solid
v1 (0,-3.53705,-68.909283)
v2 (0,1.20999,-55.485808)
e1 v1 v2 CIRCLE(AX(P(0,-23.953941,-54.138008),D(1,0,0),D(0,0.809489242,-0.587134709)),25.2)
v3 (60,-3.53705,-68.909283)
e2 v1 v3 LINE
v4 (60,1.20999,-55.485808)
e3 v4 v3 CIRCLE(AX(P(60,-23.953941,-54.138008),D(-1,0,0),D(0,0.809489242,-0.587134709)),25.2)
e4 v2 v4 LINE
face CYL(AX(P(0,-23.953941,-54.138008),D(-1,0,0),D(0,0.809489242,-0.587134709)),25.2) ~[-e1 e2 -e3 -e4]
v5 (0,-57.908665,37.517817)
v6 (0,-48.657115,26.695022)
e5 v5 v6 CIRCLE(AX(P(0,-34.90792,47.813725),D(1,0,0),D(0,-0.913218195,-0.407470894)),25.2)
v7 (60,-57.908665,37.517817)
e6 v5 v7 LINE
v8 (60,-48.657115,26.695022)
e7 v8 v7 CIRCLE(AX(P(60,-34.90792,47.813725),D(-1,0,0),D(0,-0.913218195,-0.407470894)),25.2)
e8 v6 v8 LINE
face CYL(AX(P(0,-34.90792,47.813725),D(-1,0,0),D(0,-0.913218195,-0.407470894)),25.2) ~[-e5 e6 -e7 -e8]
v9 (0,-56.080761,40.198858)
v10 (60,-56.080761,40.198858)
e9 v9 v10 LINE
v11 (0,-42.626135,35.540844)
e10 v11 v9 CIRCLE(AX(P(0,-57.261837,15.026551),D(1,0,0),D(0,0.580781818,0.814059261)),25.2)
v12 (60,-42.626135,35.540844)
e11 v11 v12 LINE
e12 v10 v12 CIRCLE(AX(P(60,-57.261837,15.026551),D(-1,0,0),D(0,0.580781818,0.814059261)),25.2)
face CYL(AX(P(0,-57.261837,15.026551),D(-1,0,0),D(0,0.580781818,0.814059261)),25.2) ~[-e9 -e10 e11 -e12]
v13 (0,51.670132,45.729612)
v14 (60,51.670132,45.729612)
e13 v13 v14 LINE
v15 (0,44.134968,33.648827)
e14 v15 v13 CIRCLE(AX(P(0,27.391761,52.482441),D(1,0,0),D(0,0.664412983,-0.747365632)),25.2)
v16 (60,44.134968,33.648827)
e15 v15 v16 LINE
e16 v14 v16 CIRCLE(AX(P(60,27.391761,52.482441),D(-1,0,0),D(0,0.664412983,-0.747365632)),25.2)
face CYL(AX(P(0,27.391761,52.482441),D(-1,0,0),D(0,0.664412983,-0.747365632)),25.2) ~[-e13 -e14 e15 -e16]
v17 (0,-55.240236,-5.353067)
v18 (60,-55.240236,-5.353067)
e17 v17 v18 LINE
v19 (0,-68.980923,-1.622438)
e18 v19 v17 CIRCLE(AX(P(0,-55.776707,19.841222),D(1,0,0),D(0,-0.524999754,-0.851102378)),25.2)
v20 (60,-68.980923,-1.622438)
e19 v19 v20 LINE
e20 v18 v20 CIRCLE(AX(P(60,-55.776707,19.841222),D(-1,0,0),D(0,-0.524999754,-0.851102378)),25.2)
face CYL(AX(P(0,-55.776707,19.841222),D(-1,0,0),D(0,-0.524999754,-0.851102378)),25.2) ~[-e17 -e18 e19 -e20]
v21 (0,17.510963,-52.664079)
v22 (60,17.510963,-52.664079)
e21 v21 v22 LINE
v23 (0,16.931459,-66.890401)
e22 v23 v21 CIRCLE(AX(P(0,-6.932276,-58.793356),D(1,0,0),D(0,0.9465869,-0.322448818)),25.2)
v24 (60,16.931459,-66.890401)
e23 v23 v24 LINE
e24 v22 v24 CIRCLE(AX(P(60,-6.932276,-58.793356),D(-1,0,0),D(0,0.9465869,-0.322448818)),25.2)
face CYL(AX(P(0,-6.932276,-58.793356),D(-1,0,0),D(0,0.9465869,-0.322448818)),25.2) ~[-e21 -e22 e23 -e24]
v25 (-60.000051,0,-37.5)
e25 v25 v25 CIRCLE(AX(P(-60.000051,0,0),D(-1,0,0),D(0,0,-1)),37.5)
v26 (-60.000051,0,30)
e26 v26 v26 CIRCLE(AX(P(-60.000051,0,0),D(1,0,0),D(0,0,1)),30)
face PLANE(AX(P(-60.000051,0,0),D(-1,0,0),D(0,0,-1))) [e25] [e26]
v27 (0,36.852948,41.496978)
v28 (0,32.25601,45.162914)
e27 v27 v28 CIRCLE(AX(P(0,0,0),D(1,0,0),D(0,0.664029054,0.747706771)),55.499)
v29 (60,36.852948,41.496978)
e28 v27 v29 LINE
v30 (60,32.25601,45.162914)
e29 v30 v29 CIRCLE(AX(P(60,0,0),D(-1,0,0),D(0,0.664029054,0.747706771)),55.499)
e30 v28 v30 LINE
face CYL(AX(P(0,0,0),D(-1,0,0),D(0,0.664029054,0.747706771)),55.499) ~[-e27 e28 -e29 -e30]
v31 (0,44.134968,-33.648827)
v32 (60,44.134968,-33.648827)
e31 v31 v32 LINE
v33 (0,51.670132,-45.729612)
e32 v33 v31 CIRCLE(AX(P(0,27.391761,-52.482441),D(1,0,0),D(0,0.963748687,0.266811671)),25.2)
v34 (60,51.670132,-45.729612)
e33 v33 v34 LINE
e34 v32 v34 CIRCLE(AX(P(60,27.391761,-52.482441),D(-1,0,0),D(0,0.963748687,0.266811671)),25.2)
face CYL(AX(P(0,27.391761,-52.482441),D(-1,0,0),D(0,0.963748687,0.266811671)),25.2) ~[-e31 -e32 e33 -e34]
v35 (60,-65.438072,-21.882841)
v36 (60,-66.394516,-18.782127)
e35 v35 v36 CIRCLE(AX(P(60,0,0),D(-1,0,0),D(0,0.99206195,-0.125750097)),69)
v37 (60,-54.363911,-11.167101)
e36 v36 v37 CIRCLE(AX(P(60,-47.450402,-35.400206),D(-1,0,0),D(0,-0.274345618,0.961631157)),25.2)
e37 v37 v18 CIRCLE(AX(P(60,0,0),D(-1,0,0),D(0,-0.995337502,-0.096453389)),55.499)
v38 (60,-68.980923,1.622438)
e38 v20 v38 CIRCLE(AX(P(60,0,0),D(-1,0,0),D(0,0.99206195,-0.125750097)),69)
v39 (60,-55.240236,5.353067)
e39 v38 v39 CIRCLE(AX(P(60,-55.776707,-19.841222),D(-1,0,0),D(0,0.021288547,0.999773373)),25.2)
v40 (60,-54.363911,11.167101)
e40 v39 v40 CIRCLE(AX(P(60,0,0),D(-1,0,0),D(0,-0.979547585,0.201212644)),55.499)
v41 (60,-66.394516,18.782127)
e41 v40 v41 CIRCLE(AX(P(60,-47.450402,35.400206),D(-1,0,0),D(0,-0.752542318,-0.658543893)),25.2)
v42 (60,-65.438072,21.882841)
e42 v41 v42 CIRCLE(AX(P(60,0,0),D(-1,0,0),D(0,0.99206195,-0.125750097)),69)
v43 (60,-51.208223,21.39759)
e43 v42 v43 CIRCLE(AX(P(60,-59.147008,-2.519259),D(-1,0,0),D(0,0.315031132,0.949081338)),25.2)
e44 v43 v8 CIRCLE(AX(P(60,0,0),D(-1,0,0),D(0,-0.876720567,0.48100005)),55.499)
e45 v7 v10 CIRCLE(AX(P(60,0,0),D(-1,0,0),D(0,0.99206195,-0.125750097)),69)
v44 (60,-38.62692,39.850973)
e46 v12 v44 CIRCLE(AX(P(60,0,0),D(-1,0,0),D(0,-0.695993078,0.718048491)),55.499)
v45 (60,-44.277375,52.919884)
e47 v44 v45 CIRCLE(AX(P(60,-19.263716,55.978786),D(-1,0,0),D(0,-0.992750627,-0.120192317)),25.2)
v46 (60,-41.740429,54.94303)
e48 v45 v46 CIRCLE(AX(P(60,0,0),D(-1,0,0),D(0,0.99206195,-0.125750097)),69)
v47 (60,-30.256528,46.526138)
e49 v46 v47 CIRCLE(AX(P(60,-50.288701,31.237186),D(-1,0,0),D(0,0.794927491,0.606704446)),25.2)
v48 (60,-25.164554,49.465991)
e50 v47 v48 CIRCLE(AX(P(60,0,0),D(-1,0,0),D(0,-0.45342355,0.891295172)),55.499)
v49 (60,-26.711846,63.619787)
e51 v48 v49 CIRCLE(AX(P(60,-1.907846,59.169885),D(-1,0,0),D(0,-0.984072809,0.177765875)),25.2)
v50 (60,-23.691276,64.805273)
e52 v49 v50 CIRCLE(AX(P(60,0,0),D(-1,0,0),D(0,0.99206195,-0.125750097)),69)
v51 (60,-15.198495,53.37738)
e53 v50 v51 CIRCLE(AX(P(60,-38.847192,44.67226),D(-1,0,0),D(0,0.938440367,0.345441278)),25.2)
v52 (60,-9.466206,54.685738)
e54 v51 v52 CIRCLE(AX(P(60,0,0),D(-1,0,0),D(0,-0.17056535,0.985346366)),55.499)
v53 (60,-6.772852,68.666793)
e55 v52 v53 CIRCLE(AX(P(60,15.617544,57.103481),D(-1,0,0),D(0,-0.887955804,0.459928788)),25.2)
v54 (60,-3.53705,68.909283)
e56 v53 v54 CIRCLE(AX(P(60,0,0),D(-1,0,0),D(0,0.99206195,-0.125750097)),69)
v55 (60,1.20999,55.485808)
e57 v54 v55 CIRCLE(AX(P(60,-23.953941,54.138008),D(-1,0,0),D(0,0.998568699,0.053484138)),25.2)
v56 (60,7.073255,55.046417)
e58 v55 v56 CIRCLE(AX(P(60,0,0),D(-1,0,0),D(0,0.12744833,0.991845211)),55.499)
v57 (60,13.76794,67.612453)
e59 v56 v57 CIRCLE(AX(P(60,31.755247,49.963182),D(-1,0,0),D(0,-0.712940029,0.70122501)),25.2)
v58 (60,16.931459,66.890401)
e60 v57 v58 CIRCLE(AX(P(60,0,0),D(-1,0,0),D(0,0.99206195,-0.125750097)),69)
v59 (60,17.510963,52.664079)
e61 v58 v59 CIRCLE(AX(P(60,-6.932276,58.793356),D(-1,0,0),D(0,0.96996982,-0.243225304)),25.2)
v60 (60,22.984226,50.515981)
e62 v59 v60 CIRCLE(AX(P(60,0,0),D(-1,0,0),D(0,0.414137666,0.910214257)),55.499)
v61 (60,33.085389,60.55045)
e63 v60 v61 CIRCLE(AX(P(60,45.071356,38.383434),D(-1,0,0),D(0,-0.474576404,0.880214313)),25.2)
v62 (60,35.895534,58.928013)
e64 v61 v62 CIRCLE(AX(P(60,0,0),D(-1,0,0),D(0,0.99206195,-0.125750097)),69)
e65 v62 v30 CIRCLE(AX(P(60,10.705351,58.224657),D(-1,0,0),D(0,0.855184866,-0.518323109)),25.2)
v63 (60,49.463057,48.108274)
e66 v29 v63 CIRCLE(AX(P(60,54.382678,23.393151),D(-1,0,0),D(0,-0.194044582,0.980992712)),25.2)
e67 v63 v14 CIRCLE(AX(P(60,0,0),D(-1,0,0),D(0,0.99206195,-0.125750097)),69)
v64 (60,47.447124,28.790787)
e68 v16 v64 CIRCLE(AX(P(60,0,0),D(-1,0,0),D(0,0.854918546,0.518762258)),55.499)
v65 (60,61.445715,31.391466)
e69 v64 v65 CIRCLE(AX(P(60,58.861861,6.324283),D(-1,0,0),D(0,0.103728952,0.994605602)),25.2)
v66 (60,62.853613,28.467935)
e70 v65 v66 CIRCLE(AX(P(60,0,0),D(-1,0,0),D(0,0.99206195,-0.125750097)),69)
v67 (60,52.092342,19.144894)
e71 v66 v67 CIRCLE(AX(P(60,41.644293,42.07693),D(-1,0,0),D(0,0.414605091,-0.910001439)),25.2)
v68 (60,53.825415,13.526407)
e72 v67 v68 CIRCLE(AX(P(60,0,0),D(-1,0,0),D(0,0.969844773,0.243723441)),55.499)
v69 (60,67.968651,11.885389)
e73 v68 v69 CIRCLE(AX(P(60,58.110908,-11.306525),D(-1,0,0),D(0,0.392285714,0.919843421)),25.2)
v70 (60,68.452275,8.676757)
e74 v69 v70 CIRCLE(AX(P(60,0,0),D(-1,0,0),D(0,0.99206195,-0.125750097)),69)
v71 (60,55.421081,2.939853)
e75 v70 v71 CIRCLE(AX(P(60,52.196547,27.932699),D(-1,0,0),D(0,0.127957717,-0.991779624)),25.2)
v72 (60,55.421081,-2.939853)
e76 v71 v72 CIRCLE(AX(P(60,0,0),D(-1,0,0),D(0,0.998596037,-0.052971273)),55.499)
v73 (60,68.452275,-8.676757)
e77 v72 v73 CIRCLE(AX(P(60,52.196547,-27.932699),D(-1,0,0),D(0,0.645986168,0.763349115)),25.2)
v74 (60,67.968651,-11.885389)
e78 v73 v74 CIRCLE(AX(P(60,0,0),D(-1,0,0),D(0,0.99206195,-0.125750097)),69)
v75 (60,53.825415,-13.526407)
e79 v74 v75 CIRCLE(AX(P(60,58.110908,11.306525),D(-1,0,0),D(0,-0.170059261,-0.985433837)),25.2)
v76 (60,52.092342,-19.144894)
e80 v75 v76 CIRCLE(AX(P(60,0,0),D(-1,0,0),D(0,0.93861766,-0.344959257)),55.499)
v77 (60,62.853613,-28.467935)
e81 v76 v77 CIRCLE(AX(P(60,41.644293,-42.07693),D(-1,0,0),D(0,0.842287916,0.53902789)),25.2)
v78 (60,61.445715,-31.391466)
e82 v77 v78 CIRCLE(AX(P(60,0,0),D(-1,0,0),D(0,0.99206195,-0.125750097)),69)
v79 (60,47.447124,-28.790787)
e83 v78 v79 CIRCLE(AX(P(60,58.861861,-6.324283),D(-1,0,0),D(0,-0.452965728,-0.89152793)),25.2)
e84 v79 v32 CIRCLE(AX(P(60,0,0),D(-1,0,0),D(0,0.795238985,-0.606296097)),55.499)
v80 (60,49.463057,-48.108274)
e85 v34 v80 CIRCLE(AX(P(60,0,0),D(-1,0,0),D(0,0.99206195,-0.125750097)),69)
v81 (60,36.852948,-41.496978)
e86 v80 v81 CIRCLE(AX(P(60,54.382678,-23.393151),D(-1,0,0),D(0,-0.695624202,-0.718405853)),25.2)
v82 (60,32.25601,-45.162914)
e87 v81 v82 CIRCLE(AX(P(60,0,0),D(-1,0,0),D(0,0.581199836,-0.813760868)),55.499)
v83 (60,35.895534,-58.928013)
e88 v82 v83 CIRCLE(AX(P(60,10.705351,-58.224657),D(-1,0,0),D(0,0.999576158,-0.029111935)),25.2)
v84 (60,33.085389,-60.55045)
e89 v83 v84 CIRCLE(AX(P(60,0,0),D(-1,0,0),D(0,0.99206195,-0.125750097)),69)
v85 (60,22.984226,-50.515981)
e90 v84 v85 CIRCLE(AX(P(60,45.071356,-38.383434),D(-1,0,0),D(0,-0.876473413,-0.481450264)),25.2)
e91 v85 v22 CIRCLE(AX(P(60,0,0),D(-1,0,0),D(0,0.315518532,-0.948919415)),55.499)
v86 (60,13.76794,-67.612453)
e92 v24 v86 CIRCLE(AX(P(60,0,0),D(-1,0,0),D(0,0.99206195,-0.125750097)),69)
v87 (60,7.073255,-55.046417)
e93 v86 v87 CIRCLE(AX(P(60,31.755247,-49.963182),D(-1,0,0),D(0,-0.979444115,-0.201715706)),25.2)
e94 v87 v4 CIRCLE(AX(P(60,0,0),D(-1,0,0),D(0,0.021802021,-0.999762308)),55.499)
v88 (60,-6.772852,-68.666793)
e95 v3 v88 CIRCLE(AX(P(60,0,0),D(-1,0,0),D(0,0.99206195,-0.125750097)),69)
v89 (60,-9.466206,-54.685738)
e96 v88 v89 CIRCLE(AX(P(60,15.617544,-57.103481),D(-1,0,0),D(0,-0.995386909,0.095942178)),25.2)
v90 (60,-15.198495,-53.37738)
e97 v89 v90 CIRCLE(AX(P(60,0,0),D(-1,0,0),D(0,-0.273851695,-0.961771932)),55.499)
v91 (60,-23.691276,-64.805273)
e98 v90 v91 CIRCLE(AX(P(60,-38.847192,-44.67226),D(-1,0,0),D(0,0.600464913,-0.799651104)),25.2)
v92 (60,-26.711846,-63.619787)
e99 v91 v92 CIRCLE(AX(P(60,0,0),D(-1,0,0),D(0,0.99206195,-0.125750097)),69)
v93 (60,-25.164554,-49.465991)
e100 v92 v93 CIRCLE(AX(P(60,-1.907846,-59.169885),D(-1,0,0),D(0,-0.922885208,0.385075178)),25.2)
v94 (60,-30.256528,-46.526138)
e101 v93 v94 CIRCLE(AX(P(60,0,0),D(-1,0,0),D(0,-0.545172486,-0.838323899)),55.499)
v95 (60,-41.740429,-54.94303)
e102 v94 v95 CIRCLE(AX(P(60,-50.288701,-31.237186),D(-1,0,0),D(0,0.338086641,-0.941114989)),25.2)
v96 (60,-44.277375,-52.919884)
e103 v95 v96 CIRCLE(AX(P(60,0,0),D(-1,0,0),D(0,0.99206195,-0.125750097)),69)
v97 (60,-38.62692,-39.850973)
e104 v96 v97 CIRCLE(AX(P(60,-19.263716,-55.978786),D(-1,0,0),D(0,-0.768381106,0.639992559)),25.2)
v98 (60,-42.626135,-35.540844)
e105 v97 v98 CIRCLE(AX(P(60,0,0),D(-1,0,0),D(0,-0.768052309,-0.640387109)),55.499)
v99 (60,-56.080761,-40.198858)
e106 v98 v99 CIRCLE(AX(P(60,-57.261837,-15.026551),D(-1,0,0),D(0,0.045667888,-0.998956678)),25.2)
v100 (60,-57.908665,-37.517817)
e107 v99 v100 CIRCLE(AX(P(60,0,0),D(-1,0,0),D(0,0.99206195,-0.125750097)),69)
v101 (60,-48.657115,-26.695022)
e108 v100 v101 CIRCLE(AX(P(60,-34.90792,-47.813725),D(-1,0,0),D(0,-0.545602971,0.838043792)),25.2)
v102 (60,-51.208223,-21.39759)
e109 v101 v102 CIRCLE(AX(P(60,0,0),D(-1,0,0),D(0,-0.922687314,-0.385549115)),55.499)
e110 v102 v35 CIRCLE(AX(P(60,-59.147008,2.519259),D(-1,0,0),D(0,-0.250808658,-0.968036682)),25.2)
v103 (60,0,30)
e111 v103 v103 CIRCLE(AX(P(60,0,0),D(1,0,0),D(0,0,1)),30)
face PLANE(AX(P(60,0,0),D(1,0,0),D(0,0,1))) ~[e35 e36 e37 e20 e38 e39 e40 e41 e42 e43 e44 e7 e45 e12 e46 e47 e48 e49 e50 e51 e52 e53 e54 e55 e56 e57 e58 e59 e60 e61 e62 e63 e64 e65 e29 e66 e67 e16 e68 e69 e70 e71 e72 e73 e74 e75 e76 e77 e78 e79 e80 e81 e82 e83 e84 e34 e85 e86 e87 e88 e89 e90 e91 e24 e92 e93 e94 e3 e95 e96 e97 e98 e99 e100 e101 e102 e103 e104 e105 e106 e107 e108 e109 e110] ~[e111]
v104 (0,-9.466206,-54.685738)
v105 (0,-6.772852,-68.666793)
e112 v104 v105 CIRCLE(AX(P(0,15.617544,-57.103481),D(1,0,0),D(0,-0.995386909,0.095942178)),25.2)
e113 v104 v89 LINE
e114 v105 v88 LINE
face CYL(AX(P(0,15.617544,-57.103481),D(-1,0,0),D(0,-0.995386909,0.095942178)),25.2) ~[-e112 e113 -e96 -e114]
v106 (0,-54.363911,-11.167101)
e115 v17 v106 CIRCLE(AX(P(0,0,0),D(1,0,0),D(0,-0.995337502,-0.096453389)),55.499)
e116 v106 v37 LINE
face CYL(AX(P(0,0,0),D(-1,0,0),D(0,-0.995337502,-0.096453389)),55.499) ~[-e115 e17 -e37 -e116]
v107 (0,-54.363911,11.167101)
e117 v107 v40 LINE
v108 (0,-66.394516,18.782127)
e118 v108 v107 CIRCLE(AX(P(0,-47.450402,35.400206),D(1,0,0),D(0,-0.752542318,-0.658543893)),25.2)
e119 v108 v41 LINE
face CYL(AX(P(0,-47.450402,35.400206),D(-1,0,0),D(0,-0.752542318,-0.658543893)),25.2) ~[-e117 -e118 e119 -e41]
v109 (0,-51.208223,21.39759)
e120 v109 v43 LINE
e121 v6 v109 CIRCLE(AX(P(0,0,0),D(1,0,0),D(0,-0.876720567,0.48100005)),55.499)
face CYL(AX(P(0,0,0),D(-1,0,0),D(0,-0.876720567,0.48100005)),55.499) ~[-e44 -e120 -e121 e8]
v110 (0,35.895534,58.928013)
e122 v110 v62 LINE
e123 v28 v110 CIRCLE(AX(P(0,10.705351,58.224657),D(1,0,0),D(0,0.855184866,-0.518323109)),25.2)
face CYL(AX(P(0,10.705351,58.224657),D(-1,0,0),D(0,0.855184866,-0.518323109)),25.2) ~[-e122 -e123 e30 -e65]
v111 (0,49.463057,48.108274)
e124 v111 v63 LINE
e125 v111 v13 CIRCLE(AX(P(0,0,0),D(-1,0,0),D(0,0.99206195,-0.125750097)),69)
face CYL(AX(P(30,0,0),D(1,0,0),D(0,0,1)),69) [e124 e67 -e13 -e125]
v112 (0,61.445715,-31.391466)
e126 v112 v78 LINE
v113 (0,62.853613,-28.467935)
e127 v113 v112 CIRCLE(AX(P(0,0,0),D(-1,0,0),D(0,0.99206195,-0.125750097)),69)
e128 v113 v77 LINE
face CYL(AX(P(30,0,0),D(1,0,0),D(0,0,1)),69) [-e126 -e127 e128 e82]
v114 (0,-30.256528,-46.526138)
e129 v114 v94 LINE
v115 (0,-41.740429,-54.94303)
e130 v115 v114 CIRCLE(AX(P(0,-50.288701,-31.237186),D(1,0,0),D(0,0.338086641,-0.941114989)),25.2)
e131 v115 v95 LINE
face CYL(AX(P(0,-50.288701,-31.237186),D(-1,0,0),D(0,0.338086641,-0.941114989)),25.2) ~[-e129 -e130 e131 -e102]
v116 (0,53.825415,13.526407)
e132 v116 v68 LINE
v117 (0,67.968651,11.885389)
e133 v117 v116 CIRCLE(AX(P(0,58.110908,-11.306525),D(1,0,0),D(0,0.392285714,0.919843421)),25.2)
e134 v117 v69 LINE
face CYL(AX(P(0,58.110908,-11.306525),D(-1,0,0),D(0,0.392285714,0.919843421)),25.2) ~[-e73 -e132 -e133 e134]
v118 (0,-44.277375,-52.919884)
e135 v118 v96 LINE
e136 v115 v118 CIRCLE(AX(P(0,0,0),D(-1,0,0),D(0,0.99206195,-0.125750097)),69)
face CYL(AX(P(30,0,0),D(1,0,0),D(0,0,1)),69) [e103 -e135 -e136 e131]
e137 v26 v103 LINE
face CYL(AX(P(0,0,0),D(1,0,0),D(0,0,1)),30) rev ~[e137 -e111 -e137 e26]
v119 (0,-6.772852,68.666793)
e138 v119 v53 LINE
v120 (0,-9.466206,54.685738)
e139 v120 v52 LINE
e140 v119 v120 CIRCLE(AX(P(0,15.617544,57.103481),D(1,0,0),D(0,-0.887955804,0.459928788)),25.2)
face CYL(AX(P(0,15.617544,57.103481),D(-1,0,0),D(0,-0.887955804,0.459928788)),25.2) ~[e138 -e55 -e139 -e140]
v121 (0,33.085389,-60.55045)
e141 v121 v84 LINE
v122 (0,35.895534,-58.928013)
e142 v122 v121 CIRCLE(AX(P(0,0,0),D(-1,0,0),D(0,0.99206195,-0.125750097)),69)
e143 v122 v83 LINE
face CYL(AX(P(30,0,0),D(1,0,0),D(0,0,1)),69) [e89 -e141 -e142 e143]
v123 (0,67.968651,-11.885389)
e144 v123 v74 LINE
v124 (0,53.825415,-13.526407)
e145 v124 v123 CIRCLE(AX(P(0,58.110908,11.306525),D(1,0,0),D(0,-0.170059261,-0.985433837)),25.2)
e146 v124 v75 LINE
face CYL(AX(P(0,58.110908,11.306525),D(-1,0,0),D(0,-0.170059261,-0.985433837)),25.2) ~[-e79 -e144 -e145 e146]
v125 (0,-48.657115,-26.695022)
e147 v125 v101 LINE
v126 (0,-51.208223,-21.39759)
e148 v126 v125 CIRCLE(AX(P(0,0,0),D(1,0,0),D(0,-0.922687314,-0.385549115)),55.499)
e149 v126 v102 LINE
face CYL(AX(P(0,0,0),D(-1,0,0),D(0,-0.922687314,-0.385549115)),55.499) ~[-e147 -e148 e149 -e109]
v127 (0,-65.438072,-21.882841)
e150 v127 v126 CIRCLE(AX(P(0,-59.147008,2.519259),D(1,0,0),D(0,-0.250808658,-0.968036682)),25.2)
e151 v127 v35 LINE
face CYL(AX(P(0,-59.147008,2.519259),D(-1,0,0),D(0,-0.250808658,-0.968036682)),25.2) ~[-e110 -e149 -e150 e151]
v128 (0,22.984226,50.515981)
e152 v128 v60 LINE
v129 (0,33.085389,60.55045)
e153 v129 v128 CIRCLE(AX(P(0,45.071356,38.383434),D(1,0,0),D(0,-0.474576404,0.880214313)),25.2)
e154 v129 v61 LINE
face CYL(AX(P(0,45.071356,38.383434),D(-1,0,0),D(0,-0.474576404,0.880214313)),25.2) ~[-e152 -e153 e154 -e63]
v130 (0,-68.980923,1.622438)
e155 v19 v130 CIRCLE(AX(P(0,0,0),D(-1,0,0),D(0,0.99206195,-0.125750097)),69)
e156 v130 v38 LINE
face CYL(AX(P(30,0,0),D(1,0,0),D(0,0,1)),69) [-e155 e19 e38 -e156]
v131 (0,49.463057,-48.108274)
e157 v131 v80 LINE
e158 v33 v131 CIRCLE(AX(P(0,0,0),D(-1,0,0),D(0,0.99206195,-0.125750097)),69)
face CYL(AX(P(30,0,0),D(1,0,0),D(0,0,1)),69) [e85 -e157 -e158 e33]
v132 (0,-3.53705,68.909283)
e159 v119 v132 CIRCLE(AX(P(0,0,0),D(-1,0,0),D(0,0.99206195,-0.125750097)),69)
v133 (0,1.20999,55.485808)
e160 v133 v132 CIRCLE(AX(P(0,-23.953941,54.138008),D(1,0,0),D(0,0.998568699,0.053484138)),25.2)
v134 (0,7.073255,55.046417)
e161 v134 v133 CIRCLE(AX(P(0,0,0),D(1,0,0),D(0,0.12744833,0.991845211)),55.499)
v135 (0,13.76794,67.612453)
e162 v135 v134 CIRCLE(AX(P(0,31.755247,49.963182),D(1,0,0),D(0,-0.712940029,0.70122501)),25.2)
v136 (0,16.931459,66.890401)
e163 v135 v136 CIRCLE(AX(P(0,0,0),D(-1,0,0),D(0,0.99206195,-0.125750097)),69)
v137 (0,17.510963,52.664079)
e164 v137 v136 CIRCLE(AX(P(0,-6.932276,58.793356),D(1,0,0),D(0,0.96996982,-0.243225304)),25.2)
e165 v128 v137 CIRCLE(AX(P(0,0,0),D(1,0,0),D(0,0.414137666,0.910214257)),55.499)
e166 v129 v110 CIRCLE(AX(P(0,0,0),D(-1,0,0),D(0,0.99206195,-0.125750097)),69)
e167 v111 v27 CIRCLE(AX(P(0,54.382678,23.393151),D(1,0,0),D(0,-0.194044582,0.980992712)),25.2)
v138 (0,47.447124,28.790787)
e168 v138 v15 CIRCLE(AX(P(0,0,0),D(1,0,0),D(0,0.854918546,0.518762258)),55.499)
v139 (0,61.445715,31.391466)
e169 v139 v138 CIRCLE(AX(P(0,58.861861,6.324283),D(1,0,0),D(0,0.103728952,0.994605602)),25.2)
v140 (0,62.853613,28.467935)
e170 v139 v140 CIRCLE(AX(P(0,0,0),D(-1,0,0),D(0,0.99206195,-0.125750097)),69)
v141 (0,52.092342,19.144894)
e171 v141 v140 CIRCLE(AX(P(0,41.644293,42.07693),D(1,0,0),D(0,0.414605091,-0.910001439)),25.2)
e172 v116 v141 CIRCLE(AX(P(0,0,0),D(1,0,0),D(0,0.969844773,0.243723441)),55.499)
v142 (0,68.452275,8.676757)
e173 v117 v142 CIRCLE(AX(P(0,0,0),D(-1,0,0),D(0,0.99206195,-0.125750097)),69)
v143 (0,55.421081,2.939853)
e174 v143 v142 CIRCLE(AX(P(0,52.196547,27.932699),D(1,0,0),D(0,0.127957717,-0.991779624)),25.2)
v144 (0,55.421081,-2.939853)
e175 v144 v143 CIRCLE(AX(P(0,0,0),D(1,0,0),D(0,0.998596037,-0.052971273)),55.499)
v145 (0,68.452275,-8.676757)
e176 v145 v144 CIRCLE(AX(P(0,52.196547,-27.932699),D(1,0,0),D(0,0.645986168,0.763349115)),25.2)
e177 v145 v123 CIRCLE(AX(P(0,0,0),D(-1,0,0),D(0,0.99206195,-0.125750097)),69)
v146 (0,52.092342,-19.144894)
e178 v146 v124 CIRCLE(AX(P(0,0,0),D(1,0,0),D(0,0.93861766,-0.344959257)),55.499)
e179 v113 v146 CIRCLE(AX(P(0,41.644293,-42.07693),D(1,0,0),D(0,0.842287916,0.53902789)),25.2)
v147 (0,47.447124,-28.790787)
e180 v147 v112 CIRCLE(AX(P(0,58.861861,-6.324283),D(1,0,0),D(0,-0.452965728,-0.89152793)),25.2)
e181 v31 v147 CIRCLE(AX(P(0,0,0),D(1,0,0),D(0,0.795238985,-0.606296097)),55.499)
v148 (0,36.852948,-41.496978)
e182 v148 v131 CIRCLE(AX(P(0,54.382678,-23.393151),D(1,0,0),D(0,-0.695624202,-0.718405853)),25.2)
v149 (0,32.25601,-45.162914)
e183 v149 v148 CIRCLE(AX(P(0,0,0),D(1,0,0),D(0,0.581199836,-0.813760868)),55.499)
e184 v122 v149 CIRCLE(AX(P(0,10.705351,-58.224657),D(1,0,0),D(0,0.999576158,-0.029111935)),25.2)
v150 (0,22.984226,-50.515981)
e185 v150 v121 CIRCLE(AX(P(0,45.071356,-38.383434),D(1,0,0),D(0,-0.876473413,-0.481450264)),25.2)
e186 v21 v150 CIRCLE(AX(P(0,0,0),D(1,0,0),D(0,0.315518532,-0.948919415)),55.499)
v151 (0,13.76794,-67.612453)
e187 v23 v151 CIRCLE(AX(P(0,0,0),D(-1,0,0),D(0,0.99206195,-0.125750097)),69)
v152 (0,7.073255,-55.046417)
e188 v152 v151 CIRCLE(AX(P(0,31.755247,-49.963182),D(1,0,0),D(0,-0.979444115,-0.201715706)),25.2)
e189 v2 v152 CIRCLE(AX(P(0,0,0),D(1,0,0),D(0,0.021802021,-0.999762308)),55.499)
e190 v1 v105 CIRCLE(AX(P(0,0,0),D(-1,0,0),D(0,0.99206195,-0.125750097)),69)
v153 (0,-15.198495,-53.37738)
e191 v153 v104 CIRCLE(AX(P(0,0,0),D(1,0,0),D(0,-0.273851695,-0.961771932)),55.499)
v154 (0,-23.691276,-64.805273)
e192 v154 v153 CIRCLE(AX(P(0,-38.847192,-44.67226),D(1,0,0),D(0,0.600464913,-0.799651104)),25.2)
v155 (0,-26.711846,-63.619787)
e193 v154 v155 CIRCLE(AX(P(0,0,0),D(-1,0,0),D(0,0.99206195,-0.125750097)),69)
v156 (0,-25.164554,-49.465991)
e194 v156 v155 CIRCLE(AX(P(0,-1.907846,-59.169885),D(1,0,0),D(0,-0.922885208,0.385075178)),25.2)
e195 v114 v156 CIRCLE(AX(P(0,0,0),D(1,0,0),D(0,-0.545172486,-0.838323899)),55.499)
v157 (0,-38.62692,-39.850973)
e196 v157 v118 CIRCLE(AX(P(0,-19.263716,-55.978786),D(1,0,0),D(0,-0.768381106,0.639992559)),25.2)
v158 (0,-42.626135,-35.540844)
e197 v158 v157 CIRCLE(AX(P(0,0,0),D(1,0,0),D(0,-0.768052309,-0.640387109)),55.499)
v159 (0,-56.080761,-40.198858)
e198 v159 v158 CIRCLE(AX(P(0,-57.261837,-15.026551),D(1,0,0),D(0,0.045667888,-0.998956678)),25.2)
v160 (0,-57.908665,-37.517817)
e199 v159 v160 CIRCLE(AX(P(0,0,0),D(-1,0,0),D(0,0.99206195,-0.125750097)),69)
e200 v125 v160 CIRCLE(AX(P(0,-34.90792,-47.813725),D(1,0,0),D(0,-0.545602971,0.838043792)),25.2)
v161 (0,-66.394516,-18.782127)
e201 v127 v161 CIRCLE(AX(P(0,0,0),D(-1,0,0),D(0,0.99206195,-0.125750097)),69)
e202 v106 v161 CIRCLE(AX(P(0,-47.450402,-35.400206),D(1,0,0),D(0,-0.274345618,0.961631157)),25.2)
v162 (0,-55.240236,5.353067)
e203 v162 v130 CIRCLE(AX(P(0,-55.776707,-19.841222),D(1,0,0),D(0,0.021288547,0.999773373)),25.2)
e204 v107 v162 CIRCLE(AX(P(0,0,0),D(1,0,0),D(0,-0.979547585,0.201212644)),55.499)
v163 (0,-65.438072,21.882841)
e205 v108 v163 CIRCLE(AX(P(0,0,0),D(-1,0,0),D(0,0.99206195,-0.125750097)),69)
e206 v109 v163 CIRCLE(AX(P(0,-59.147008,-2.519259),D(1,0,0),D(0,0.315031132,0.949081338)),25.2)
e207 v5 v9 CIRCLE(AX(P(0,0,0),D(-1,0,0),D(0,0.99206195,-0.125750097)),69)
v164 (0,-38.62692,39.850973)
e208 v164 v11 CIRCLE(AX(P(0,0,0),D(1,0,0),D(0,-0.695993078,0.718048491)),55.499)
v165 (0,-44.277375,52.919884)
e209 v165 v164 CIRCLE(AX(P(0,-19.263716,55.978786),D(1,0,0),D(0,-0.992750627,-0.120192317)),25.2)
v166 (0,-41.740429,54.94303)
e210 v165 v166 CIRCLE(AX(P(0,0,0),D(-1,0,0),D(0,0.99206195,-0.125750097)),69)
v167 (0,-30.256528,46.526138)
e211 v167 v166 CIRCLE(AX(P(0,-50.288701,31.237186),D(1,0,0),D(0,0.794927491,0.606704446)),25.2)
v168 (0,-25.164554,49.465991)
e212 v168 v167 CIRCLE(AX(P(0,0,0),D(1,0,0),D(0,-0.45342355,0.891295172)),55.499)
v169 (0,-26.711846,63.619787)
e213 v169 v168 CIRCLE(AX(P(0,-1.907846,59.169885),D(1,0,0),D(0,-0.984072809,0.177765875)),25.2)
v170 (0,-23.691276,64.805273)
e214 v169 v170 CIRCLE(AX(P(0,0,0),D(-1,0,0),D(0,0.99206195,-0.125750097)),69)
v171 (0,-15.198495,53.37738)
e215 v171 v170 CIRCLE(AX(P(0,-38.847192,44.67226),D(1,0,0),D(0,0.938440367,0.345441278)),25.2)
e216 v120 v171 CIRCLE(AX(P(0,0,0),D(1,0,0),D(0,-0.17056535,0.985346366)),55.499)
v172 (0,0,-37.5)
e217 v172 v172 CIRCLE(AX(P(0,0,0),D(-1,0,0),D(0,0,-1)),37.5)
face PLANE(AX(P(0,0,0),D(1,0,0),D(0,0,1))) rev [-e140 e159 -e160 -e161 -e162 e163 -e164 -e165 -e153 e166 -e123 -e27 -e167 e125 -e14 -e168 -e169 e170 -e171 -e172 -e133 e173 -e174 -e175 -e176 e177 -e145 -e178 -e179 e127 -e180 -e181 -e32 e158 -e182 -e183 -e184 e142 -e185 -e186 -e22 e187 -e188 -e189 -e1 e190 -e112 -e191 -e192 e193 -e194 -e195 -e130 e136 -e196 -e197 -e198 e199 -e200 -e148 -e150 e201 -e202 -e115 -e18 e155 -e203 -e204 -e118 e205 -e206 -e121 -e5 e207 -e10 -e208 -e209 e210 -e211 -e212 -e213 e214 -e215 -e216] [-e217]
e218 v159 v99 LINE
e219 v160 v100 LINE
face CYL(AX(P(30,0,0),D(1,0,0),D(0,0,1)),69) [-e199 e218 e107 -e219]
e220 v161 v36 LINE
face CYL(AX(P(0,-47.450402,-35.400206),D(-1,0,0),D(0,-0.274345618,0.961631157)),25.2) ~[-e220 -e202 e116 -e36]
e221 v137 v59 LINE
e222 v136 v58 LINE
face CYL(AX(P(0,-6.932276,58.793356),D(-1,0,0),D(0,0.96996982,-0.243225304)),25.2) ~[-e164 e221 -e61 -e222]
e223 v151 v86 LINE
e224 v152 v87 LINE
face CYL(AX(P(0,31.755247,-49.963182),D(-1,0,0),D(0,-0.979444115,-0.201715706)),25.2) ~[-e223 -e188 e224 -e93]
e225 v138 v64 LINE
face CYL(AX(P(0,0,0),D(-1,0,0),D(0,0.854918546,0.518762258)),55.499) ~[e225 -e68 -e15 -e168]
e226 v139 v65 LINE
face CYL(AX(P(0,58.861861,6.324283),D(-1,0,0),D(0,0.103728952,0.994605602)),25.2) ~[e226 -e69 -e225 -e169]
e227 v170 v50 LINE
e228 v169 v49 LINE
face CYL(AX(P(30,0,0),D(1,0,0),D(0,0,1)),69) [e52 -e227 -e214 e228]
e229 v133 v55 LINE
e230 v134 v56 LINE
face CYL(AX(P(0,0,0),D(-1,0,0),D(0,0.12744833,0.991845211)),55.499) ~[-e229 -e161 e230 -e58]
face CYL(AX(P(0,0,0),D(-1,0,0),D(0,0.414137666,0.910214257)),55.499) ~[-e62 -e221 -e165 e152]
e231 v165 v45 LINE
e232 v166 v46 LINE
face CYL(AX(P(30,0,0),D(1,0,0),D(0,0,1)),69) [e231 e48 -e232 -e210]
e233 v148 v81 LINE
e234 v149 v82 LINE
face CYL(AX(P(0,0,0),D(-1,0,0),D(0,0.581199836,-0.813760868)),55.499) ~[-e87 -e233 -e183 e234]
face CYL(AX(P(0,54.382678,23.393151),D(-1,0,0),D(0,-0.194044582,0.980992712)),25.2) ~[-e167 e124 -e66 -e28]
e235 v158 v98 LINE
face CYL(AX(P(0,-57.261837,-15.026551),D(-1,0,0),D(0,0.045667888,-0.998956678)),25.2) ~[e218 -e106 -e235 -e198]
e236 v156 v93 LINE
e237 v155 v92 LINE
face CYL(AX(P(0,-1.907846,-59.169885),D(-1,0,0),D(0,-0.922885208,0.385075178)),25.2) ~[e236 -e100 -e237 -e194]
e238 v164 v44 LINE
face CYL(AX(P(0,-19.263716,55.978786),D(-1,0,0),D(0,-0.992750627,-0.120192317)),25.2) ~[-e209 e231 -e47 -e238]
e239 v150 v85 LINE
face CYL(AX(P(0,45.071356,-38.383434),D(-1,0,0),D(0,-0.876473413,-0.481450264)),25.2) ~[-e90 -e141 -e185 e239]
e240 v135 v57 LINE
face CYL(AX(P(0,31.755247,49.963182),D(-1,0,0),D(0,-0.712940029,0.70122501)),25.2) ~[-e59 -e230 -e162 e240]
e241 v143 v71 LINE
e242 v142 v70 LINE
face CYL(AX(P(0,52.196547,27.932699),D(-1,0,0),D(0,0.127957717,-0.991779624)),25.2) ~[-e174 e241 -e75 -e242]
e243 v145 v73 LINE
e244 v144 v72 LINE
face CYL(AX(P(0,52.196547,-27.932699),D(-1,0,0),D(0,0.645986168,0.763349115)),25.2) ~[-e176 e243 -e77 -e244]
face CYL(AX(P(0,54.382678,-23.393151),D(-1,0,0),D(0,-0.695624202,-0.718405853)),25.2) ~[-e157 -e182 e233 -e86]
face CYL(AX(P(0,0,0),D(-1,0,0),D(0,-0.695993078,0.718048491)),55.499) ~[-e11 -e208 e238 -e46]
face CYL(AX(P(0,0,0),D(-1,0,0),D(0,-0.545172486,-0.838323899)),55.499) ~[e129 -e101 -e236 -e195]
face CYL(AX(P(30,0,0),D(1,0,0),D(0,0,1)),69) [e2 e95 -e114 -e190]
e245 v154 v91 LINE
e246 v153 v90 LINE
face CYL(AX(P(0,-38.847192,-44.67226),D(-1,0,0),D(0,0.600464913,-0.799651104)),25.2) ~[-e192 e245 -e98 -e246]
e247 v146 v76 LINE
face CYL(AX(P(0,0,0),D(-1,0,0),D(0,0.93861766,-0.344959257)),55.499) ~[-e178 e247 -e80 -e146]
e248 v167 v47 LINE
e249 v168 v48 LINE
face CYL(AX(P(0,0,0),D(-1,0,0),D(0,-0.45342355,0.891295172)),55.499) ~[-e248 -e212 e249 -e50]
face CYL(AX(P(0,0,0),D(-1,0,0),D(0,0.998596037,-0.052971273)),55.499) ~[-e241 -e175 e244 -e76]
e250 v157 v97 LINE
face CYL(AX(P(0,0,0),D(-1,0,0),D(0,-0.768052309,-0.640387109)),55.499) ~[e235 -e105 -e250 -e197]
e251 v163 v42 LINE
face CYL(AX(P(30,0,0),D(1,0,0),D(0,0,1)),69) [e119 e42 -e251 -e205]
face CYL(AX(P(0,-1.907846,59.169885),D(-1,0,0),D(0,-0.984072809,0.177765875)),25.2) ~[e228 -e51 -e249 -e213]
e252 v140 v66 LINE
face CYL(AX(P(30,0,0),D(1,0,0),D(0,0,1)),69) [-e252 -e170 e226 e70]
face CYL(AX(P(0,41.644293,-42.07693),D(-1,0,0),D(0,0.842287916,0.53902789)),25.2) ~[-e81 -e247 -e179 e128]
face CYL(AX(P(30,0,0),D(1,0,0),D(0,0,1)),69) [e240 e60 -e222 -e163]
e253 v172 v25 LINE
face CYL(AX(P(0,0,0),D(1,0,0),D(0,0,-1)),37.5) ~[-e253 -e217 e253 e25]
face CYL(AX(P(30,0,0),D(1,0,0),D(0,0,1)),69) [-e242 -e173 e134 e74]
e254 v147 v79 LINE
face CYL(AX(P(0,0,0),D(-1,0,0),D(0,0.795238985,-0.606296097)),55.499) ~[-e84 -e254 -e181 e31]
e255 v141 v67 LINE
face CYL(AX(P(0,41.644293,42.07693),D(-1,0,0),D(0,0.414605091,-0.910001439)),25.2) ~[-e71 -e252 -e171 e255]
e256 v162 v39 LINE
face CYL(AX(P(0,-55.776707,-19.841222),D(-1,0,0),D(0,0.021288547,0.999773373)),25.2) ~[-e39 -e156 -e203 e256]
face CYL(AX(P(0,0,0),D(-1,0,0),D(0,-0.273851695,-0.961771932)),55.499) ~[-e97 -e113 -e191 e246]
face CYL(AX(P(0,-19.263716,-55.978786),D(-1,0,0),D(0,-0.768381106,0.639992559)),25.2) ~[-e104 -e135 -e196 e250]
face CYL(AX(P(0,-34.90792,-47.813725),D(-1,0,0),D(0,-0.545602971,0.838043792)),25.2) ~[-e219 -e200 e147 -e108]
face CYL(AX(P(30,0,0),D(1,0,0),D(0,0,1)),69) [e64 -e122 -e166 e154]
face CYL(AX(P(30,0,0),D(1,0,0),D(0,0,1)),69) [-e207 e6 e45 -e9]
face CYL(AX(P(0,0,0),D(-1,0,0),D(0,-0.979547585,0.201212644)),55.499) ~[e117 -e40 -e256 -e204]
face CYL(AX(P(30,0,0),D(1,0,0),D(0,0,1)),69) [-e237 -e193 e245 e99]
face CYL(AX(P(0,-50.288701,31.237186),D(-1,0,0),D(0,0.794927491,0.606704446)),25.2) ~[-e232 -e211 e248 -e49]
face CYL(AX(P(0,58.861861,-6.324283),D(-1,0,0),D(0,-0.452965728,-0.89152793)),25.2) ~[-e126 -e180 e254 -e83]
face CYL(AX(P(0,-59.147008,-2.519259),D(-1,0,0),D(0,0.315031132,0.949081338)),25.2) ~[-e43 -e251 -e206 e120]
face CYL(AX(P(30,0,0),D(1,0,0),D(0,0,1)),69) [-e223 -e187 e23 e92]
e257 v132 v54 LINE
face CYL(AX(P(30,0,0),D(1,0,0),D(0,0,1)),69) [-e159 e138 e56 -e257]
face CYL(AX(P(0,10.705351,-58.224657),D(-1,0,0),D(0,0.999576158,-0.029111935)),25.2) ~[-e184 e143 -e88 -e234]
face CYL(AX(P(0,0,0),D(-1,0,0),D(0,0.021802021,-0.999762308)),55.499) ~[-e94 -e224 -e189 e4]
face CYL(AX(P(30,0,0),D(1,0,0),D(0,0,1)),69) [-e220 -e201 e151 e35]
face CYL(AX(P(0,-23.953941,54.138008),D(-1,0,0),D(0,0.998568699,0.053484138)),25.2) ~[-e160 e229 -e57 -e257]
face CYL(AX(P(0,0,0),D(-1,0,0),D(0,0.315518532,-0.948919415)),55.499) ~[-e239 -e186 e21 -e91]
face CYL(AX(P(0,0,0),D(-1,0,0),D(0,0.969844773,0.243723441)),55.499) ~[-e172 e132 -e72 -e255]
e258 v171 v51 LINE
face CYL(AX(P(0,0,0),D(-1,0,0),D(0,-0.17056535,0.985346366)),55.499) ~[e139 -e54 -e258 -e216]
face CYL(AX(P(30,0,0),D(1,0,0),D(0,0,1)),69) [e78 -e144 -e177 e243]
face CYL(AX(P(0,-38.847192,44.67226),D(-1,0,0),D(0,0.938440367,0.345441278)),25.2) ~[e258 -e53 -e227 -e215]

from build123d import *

# Parameters (mm, degrees)
BASPROSKE_W      = 60
BASPROSKE_H      = 69
TOOTHCUT_DEPTH   = 115.551298552
TEETHCUTS_COUNT  = 21
TEETHCUTS_ANGLE  = 342.857142857
HUBNEAONESKE_R   = 37.5
HUBNEARONE_DEPTH = 60.0000508
BORSKE_R         = 30
BORE_DEPTH       = 120.0000508


with BuildPart() as part:
    # BasProSke → Base-Revolve (revolve)
    with BuildSketch(Plane(origin=(0, 0, 0), x_dir=(1, 0, 0), z_dir=(0, 1, 0)), mode=Mode.PRIVATE) as base_revolve_sk:
        with Locations((30, 34.5)):
            Rectangle(BASPROSKE_W, BASPROSKE_H)
    revolve(base_revolve_sk.sketch.rotate(Axis((-10, 0, 0), (1, 0, 0)), 180), axis=Axis((-10, 0, 0), (1, 0, 0)))

    # TooCutSke → ToothCut (cut, through all)
    with BuildSketch(Plane(origin=(0, 0, 0), x_dir=(0, 0, -1), z_dir=(1, 0, 0))):
        with BuildLine():
            ThreePointArc((2.93985266, 55.421081434), (0, 55.499), (-2.93985266, 55.421081434))
            ThreePointArc((-2.93985266, 55.421081434), (-4.874938915, 62.364127365), (-8.696301499, 68.475398395))
            ThreePointArc((-8.696301499, 68.475398395), (0, 69.0254), (8.696301499, 68.475398395))
            ThreePointArc((8.696301499, 68.475398395), (4.874938915, 62.364127365), (2.93985266, 55.421081434))
        make_face()
    toothcut = extrude(amount=TOOTHCUT_DEPTH, mode=Mode.SUBTRACT)

    # TeethCuts: ToothCut ×21 about axis
    teethcuts_axis = Axis((-10, 0, 0), (1, 0, 0))
    for i in range(1, TEETHCUTS_COUNT):
        add(toothcut.rotate(teethcuts_axis, i * TEETHCUTS_ANGLE / (TEETHCUTS_COUNT - 1)), mode=Mode.SUBTRACT)

    # HubNeaOneSke → HubNearOne (add)
    with BuildSketch(Plane.ZY):
        with Locations(Location((0, 0, 0), (0, 0, 180))):
            Circle(HUBNEAONESKE_R)
    extrude(amount=HUBNEARONE_DEPTH)

    # BorSke → Bore (cut, symmetric)
    with BuildSketch(Plane(origin=(0, 0, 0), x_dir=(0, 0, -1), z_dir=(1, 0, 0))):
        with Locations(Location((0, 0, 0), (0, 0, 180))):
            Circle(BORSKE_R)
    extrude(amount=BORE_DEPTH, both=True, mode=Mode.SUBTRACT)


solid = part.part
